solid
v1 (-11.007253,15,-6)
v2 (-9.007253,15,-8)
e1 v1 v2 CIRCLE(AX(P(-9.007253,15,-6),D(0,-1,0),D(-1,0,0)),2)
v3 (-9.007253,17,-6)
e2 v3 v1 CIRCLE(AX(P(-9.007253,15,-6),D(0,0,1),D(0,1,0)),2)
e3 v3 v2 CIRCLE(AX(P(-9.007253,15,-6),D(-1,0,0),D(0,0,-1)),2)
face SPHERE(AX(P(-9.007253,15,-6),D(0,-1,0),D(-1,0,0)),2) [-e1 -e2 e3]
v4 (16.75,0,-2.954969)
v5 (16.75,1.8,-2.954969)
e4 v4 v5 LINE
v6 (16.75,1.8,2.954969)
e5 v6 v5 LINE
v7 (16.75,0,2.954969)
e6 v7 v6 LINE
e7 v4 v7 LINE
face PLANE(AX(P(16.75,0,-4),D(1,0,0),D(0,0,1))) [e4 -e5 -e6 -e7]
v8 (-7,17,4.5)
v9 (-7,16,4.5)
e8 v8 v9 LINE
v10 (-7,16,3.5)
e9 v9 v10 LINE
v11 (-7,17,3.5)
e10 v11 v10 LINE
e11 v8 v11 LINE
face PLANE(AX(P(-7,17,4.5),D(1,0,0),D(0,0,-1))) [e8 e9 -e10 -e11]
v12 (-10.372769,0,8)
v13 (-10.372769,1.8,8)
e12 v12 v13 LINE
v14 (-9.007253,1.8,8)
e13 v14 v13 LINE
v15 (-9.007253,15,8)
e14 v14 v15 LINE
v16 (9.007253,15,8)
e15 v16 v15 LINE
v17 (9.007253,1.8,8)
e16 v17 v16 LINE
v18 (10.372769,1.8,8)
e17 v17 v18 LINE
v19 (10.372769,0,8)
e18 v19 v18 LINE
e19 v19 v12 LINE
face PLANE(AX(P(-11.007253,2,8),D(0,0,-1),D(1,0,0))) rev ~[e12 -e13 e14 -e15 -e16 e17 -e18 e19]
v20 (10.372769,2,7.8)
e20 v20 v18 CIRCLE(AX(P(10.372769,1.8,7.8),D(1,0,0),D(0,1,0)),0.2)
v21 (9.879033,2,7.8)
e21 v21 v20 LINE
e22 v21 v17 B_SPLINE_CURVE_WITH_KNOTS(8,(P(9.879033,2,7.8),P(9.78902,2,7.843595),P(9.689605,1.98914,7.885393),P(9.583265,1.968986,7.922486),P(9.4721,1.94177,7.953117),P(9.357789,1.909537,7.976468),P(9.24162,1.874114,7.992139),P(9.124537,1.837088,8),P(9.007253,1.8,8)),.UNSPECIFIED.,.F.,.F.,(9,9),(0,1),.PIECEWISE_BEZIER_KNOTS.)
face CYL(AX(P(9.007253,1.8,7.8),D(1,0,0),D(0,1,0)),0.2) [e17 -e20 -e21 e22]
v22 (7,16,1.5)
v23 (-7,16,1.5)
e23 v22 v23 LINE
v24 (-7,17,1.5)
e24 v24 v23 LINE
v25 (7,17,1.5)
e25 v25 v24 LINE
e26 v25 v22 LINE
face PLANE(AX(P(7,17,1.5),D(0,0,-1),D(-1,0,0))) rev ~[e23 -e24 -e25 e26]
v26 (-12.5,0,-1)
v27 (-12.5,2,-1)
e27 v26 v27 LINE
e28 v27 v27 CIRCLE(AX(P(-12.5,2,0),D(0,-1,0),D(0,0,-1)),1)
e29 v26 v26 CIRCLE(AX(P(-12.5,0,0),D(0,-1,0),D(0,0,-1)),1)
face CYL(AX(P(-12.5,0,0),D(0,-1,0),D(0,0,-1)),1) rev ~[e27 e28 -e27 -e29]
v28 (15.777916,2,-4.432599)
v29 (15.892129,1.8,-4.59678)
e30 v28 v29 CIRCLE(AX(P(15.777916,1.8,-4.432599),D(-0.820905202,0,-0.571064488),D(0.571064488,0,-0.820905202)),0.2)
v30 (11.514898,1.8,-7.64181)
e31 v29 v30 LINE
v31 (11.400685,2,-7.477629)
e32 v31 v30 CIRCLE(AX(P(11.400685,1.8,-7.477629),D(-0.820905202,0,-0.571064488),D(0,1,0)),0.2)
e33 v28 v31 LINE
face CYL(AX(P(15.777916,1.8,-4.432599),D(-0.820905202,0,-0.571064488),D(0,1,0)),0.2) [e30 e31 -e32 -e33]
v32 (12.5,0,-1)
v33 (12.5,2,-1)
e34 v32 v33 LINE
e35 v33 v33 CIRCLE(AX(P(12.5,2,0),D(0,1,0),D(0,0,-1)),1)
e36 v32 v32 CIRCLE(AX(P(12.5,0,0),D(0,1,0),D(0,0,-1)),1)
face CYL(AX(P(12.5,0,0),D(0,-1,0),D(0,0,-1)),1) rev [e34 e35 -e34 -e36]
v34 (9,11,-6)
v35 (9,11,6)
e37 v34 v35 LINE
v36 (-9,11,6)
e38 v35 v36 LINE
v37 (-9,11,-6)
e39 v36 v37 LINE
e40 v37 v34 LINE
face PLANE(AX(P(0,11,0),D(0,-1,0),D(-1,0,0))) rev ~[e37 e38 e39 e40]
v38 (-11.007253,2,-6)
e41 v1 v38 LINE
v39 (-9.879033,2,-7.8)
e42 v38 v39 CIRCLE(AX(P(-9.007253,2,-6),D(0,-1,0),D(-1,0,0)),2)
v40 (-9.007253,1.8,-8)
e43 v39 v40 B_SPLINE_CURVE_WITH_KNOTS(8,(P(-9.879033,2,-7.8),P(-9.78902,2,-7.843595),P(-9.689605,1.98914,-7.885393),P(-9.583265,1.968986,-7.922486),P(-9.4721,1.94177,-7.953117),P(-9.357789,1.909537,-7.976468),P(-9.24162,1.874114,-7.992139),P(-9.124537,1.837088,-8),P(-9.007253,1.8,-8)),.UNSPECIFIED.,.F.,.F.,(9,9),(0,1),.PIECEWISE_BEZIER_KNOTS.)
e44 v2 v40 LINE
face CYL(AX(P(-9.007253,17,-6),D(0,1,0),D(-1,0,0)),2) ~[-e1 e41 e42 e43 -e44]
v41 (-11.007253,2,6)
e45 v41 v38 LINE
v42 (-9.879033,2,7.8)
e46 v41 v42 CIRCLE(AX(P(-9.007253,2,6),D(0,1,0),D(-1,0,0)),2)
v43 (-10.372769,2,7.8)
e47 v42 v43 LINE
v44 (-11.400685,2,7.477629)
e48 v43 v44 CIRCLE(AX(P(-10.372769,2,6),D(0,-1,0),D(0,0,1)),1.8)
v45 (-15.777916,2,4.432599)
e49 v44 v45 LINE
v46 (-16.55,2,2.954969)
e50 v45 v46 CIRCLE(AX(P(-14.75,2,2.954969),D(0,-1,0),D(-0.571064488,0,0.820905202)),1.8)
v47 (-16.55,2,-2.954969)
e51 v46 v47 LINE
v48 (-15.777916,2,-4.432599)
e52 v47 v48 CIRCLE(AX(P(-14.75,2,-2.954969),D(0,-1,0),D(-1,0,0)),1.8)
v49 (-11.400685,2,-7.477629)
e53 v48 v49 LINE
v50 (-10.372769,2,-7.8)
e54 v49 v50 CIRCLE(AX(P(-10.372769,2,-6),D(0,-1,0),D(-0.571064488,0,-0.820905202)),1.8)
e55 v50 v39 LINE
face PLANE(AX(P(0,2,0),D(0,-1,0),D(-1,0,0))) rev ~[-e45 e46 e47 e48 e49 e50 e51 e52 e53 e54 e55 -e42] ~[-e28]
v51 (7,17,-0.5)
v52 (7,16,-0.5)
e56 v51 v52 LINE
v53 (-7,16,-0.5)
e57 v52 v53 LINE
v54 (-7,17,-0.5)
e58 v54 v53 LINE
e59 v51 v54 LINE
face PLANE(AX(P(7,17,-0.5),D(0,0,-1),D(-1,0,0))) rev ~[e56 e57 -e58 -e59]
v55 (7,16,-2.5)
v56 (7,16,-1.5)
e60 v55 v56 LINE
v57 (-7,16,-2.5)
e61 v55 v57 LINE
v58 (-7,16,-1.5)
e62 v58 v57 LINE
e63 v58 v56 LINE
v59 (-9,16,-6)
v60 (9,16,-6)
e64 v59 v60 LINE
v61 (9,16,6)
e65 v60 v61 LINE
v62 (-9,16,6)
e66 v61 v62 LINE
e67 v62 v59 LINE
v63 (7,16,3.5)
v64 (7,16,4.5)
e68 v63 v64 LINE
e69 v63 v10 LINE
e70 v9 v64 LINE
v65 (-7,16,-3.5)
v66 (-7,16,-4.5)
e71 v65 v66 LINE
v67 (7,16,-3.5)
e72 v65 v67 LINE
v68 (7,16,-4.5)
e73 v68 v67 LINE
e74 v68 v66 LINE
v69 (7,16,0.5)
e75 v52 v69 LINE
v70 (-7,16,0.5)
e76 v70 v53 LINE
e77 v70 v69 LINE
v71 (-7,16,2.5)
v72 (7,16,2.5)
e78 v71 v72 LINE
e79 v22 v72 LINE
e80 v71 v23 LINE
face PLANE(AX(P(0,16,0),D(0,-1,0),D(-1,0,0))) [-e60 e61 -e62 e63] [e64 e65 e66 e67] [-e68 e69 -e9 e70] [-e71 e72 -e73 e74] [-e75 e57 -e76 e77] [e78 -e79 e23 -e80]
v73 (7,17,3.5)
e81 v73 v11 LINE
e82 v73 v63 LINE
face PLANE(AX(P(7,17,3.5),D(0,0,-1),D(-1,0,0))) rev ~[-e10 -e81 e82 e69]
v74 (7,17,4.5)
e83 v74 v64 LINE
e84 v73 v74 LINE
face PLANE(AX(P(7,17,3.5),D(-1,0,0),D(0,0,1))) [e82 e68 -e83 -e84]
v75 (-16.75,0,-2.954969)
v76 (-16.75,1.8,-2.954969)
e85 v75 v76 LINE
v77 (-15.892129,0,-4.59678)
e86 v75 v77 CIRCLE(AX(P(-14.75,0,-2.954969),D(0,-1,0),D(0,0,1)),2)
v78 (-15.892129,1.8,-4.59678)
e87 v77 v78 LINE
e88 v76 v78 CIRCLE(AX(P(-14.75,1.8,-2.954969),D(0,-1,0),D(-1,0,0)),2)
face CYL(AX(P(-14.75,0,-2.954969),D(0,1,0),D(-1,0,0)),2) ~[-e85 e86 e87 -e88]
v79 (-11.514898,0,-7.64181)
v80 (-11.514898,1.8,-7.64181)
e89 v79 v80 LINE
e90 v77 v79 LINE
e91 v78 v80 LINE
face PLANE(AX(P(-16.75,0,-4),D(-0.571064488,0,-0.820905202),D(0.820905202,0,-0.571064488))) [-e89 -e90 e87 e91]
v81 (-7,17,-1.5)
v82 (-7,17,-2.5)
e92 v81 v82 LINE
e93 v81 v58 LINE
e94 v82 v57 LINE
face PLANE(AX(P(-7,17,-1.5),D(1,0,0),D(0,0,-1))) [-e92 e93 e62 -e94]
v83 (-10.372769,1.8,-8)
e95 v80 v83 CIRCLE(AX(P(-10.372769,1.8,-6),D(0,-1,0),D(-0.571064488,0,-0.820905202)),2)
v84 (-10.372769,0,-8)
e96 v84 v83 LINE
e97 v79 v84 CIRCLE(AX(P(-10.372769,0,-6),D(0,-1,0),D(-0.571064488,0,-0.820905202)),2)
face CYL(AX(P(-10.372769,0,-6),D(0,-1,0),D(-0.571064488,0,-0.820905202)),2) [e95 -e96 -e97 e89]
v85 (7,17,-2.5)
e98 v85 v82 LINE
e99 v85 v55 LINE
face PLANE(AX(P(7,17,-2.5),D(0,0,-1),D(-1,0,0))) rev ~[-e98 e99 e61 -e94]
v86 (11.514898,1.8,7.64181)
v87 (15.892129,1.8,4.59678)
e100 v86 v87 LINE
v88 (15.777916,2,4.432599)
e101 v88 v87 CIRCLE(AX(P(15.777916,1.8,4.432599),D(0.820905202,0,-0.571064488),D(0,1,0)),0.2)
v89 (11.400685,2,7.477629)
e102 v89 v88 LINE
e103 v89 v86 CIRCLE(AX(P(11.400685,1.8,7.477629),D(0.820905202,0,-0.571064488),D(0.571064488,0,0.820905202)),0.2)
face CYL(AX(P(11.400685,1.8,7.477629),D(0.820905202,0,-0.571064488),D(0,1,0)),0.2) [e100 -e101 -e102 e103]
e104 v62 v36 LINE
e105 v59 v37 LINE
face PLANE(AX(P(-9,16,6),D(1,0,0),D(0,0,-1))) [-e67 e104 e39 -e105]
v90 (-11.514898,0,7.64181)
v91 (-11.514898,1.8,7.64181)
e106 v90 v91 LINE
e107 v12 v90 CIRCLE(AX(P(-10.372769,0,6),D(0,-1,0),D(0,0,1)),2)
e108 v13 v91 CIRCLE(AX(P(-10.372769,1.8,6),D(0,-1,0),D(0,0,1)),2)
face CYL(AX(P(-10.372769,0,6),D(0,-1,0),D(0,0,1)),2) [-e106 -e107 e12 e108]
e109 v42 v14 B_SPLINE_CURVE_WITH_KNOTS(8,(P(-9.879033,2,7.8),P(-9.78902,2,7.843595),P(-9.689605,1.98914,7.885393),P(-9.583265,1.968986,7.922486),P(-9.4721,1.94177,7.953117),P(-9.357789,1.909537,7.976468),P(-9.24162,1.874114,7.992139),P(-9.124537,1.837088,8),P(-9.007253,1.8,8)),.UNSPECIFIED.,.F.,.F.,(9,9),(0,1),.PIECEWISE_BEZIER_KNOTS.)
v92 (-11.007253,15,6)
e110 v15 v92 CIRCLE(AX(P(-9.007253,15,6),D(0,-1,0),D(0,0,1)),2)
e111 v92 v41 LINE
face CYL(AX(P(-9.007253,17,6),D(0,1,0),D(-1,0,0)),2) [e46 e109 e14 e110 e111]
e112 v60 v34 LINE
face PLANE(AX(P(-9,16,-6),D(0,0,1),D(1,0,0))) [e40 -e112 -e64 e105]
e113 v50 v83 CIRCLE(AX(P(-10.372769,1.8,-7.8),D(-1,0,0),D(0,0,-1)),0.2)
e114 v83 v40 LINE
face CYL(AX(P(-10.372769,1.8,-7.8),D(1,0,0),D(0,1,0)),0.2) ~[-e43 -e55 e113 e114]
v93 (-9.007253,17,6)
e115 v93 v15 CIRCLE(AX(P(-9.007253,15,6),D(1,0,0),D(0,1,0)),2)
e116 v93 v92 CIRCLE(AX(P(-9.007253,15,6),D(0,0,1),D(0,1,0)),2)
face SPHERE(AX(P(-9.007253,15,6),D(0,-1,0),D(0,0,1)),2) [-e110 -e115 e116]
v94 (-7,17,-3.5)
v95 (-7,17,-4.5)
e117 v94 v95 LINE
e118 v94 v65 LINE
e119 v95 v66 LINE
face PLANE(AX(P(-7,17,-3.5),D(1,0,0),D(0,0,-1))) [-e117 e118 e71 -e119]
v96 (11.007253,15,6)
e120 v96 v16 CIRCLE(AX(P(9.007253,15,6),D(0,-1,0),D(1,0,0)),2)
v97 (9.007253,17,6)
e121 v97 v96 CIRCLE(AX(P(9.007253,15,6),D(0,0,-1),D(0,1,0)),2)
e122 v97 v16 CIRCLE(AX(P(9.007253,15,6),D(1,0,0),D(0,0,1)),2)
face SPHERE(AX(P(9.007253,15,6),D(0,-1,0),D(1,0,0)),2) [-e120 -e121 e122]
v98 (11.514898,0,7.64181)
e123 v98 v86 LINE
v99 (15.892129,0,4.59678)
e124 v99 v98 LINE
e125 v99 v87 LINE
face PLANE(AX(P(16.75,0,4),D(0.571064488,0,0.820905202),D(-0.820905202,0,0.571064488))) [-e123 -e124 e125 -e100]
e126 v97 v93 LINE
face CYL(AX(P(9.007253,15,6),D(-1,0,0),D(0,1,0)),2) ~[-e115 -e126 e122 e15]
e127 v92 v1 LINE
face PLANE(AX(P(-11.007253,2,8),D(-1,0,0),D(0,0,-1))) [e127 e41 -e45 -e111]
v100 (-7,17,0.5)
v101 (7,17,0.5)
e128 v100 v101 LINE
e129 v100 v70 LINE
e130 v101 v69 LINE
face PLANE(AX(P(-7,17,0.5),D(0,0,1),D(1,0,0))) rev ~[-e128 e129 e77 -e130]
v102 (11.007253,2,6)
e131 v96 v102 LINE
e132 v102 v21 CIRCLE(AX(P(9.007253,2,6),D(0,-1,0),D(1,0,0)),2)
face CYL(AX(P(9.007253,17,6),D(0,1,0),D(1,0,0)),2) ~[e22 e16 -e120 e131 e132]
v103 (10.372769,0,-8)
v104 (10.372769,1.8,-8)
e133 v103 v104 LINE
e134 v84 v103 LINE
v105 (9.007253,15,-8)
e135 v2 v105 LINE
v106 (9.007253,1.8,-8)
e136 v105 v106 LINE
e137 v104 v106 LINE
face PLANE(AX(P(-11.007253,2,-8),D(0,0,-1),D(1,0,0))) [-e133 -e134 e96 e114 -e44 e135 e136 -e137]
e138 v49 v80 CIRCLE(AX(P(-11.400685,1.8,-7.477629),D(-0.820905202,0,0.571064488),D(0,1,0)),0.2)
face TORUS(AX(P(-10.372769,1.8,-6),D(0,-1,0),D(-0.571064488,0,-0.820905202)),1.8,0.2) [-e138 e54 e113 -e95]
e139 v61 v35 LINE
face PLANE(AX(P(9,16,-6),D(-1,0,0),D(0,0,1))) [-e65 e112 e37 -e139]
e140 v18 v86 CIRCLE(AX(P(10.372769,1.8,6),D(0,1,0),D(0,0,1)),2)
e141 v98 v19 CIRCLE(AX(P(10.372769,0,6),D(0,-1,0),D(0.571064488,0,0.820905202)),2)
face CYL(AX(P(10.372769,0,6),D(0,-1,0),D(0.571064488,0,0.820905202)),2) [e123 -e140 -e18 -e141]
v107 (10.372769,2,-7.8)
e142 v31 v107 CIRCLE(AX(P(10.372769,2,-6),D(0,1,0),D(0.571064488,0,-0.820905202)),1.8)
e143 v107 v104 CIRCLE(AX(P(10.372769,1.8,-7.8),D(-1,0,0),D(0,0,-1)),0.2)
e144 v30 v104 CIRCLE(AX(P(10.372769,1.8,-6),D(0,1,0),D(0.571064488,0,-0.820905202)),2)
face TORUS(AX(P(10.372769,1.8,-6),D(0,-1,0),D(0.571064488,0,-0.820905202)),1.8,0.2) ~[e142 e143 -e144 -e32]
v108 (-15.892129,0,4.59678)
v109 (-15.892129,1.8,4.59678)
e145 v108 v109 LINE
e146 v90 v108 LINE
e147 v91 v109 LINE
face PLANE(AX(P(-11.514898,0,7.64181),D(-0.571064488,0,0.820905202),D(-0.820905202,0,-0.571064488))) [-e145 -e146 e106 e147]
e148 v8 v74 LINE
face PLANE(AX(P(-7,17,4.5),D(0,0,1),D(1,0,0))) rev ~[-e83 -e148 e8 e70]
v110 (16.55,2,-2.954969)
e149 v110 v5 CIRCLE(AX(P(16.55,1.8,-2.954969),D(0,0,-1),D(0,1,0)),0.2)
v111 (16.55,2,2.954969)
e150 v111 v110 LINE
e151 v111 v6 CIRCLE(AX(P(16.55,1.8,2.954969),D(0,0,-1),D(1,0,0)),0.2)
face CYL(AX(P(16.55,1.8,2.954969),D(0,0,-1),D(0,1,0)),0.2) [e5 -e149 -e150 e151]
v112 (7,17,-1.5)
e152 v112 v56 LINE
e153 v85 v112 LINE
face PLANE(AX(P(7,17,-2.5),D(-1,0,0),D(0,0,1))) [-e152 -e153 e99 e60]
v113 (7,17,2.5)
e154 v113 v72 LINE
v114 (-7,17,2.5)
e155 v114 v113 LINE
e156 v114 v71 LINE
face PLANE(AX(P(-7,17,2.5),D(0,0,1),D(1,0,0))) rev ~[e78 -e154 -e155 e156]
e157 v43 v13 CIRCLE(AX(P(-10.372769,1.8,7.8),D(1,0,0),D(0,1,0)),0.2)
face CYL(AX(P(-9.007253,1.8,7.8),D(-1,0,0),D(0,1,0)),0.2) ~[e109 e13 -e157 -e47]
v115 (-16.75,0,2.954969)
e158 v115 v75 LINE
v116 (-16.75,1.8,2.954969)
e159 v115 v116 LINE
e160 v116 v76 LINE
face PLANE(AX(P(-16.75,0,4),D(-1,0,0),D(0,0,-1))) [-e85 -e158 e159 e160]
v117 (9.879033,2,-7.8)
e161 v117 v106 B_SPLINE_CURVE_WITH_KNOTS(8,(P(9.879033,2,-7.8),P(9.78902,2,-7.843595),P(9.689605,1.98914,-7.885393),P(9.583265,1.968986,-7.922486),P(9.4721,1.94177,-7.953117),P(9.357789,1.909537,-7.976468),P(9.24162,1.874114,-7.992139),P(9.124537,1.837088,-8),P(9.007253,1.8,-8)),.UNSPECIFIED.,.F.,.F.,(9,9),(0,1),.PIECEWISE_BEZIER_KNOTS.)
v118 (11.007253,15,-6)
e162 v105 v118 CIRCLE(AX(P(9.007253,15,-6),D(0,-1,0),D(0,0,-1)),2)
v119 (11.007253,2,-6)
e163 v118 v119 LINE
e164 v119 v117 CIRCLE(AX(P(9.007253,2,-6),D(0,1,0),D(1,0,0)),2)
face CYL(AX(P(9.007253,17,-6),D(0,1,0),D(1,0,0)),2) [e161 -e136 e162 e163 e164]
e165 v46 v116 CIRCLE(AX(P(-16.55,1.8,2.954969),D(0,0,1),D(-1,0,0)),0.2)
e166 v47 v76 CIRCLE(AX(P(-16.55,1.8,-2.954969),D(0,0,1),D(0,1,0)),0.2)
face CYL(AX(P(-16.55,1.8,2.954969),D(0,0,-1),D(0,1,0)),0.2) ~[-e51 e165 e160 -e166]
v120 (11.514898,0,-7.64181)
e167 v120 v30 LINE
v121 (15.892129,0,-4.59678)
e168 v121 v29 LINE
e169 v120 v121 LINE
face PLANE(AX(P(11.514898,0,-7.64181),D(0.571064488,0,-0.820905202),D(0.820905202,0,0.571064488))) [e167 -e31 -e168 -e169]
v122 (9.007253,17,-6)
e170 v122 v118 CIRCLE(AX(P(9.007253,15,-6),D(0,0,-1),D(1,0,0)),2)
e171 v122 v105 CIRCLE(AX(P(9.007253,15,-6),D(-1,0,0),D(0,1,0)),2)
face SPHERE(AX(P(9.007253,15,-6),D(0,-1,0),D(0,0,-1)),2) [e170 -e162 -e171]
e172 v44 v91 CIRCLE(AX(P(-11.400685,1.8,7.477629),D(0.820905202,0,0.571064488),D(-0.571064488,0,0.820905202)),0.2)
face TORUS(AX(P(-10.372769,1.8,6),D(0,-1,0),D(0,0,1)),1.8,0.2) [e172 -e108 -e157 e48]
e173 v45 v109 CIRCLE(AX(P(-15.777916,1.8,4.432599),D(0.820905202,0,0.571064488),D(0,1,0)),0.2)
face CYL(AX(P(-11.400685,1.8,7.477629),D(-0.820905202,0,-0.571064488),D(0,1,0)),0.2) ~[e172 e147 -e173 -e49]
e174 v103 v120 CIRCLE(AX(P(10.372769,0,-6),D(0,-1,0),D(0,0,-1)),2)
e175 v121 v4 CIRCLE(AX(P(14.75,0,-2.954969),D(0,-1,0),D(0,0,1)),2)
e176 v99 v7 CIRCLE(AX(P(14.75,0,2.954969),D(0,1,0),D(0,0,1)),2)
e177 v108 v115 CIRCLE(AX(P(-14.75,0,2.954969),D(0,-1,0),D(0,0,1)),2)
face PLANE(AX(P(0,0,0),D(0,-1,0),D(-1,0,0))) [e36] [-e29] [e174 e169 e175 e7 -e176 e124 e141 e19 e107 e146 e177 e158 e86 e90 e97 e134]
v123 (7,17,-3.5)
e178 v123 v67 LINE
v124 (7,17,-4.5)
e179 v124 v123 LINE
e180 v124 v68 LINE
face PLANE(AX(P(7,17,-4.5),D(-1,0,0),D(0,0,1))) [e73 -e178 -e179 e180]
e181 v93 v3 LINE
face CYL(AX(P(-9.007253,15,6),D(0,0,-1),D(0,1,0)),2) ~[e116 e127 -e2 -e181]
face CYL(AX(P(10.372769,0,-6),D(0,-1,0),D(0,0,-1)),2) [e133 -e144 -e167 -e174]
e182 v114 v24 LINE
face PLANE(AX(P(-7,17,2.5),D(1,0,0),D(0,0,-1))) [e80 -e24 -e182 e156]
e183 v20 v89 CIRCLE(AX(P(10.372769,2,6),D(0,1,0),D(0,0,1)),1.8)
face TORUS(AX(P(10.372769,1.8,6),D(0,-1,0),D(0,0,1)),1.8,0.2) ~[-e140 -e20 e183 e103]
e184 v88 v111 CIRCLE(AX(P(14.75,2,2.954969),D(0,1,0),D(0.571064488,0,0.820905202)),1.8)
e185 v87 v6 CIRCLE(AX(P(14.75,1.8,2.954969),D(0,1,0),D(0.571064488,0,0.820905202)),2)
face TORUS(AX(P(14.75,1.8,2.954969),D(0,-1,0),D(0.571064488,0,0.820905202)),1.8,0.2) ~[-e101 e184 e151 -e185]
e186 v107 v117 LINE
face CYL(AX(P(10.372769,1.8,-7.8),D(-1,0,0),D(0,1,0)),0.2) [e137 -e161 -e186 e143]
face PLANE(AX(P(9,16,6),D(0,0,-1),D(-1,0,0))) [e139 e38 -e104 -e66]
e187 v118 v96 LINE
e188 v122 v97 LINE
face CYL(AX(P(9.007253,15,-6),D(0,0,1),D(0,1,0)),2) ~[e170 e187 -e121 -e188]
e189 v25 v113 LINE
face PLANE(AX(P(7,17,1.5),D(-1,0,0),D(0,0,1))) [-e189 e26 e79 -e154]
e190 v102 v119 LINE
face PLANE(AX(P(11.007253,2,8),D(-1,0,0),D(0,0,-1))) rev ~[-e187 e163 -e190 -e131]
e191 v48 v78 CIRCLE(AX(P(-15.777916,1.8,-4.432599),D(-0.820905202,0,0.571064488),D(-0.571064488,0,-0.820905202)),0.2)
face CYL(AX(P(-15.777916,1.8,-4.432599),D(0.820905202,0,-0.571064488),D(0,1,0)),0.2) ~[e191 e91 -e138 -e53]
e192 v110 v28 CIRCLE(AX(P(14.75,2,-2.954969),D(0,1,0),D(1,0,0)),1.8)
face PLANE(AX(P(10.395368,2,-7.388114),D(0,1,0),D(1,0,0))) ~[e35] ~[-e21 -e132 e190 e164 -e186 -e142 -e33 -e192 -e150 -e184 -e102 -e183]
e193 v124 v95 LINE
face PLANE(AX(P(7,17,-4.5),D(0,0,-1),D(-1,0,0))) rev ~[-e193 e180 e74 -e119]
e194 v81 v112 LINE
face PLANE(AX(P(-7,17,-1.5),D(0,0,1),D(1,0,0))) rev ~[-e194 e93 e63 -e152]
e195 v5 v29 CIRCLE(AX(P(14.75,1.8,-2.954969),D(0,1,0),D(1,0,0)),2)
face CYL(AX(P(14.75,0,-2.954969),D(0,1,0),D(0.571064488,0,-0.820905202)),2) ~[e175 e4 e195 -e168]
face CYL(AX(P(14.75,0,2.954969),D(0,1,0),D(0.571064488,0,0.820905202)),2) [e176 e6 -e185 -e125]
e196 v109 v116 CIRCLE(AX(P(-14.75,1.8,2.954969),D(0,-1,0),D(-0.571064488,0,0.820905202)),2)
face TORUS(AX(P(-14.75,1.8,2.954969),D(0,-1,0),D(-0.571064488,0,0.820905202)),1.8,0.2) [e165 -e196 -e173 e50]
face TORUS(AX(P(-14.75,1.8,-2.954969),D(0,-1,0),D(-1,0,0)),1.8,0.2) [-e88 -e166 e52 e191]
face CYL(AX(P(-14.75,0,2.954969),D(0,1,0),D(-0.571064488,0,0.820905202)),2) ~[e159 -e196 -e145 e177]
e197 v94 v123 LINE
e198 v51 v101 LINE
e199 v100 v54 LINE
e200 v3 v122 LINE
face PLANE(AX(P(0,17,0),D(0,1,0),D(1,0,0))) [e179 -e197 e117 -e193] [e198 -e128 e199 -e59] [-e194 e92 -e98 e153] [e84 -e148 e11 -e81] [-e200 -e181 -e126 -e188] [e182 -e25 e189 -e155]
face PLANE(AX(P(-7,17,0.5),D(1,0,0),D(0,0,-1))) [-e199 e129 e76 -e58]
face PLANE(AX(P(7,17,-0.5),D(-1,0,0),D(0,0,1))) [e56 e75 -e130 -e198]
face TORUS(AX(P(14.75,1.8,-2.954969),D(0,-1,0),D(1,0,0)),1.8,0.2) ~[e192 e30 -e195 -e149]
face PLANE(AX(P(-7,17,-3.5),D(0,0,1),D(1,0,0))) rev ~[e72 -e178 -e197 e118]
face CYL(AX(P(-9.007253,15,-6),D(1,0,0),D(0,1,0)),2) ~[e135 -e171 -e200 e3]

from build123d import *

# Parameters (mm, degrees)
EXTRUDE_1_DEPTH            = 2
SKETCH_2_W                 = 22.014506199136
SKETCH_2_H                 = 16
EXTRUDE_2_DEPTH            = 15
CUT_EXTRUDE_1_REACH        = 27.171
SKETCH_3_R                 = 1.0000000000000016
CUT_EXTRUDE_2_DEPTH        = 1
PATTERN_LINEAR_1_COUNT     = 3
PATTERN_LINEAR_1_PITCH     = 2
PATTERN_LINEAR_1_COL_COUNT = 3
PATTERN_LINEAR_1_COL_PITCH = 2
CUT_EXTRUDE_3_DEPTH        = 5
FILLET_4_R                 = 2
CUT_EXTRUDE_5_DEPTH        = 15
MIRROR_3_COPY_1_DEPTH      = 15
FILLET_6_R                 = 0.2
FILLET_7_R                 = 2


with BuildPart() as part:
    # 草图1 → 凸台-拉伸1 (new body)
    with BuildSketch(Plane(origin=(0, 0, 0), x_dir=(1, 0, 0), z_dir=(0, 1, 0))):
        with BuildLine():
            Line((-16.75, -4.000000000000002), (-16.75, 3.9999999999999982))
            Line((-16.75, 3.9999999999999982), (-11.51489754486675, 7.641810403570972))
            ThreePointArc((-11.51489754486675, 7.641810403570972), (-10.971257997306036, 7.908352798507383), (-10.372768568469548, 7.9999999999999964))
            Line((-10.372768568469548, 7.9999999999999964), (10.372768568469544, 8))
            ThreePointArc((10.372768568469544, 8), (10.971257997306031, 7.908352798507387), (11.514897544866734, 7.641810403570965))
            Line((11.514897544866734, 7.641810403570965), (16.75, 4.000000000000005))
            Line((16.75, 4.000000000000005), (16.75, -3.9999999999999947))
            Line((16.75, -3.9999999999999947), (11.514897544866738, -7.641810403570964))
            ThreePointArc((11.514897544866738, -7.641810403570964), (10.971257997306049, -7.908352798507378), (10.37276856846958, -7.9999999999999964))
            Line((10.37276856846958, -7.9999999999999964), (-10.372768568469548, -7.999999999999998))
            ThreePointArc((-10.372768568469548, -7.999999999999998), (-10.971257997306035, -7.908352798507385), (-11.51489754486674, -7.641810403570962))
            Line((-11.51489754486674, -7.641810403570962), (-16.75, -4.000000000000002))
        make_face()
    extrude(amount=EXTRUDE_1_DEPTH)

    # 草图2 → 凸台-拉伸2 (add)
    with BuildSketch(Plane(origin=(0, 2, 0), x_dir=(1, 0, 0), z_dir=(0, 1, 0))):
        Rectangle(SKETCH_2_W, SKETCH_2_H)
    extrude(amount=EXTRUDE_2_DEPTH)

    # 草图3 → 切除-拉伸1 (cut, up to next)
    with BuildSketch(Plane.XZ, mode=Mode.PRIVATE) as cut_extrude_1_sk1:
        with Locations(Location((-12.5, -1.53e-15, 0), (0, 0, 270))):
            Circle(SKETCH_3_R)
    cut_extrude_1_tool1 = extrude(cut_extrude_1_sk1.sketch, amount=-CUT_EXTRUDE_1_REACH, mode=Mode.PRIVATE) & part.part
    cut_extrude_1 = cut_extrude_1_tool1.solids().sort_by_distance((-12.5, 0, 0))[0]
    add(cut_extrude_1, mode=Mode.SUBTRACT)

    # 镜向1: 切除-拉伸1 across plane
    add(cut_extrude_1.mirror(Plane(origin=(0, 0, 0), x_dir=(0, 0, 1), z_dir=(1, 0, 0))), mode=Mode.SUBTRACT)

    # 草图4 → 切除-拉伸2 (cut)
    with BuildSketch(Plane(origin=(0, 17, 0), x_dir=(1, 0, 0), z_dir=(0, 1, 0))):
        Polygon((0, 0.5), (7, 0.5), (7, -0.5), (0, -0.5), (-7, -0.5), (-7, 0.5), align=None)
    cut_extrude_2 = extrude(amount=-CUT_EXTRUDE_2_DEPTH, mode=Mode.SUBTRACT)

    # 阵列(线性)1: 切除-拉伸2 ×3
    with Locations(*[(0, 0, i * PATTERN_LINEAR_1_PITCH) for i in range(1, PATTERN_LINEAR_1_COUNT)]):
        add(cut_extrude_2, mode=Mode.SUBTRACT)

    # 阵列(线性)1 col: 切除-拉伸2 ×3
    with Locations(*[(0, 0, -i * PATTERN_LINEAR_1_COL_PITCH) for i in range(1, PATTERN_LINEAR_1_COL_COUNT)]):
        add(cut_extrude_2, mode=Mode.SUBTRACT)

    # 草图5 → 切除-拉伸3 (cut)
    with BuildSketch(Plane(origin=(0, 16, 0), x_dir=(1, 0, 0), z_dir=(0, 1, 0))):
        Polygon((9, 6.0000000000000036), (9.000000000000002, -5.999999999999997), (-8.999999999999998, -6.000000000000001), (-8.999999999999998, 5.999999999999999), align=None)
    extrude(amount=-CUT_EXTRUDE_3_DEPTH, mode=Mode.SUBTRACT)

    # 圆角4
    fillet_4_edges = [part.edges().sort_by_distance(p)[0] for p in [
        (-16.75, 1, 4.000000000000002),
        (-16.75, 1, -3.9999999999999982),
        (16.75, 1, -4.000000000000005),
        (16.75, 1, 3.9999999999999947),
    ]]
    fillet(fillet_4_edges, radius=FILLET_4_R)

    # 草图8 → 切除-拉伸5 (cut)
    with BuildSketch(Plane(origin=(0, 17, 0), x_dir=(1, 0, 0), z_dir=(0, 1, 0))):
        with BuildLine():
            Line((-9.007253099567999, 8), (-11.007253099568, 8))
            Line((-11.007253099568, 8), (-11.007253099568, 6))
            ThreePointArc((-11.007253099568, 6), (-10.421466661941093, 7.414213562373095), (-9.007253099567999, 8))
        make_face()
    cut_extrude_5 = extrude(amount=-CUT_EXTRUDE_5_DEPTH, mode=Mode.SUBTRACT)

    # 镜向2: 切除-拉伸5 across plane
    add(cut_extrude_5.mirror(Plane(origin=(0, 0, 0), x_dir=(0, 0, 1), z_dir=(1, 0, 0))), mode=Mode.SUBTRACT)

    # 镜向3: 切除-拉伸5 across plane
    add(cut_extrude_5.mirror(Plane.XY), mode=Mode.SUBTRACT)

    # 镜向3 copy 1 sketch → 镜向3 copy 1 (cut)
    with BuildSketch(Plane(origin=(0, 17, 0), x_dir=(-1, 0, 0), z_dir=(0, 1, 0))):
        with BuildLine():
            Line((-9.007253099567999, 8), (-11.007253099568, 8))
            Line((-11.007253099568, 8), (-11.007253099568, 6))
            ThreePointArc((-11.007253099568, 6), (-10.421466661941093, 7.414213562373095), (-9.007253099567999, 8))
        make_face()
    extrude(amount=-MIRROR_3_COPY_1_DEPTH, mode=Mode.SUBTRACT)

    # 圆角6
    fillet_6_edges = [part.edges().sort_by_distance(p)[0] for p in [
        (10.971257997306049, 2, 7.908352798507378),
        (13.703513260631969, 2, 6.119295123038627),
        (-16.75, 2, -8.9e-16),
        (-13.70351326063197, 2, 6.119295123038629),
        (-16.522605138319644, 2, 3.881182710057475),
        (-16.522605138319644, 2, -3.881182710057476),
        (13.703513260631965, 2, -6.119295123038633),
        (16.75, 2, -3.55e-15),
        (16.522605138319644, 2, 3.8811827100574723),
        (16.52260513831964, 2, -3.8811827100574794),
        (-9.690010834018773, 2, -8),
        (9.690010834018771, 2, -8),
        (-9.690010834018773, 2, 8),
        (9.69001083401879, 2, 8),
        (10.97125799730603, 2, -7.908352798507387),
        (-10.971257997306036, 2, -7.908352798507383),
        (-13.703513260631976, 2, -6.119295123038633),
        (-10.971257997306035, 2, 7.908352798507385),
    ]]
    fillet(fillet_6_edges, radius=FILLET_6_R)

    # 圆角7
    fillet_7_edges = [part.edges().sort_by_distance(p)[0] for p in [
        (-11.007253099568, 17, 0),
        (-10.421466661941095, 17, -7.414213562373094),
        (1.78e-15, 17, -8),
        (10.421466661941095, 17, -7.414213562373094),
        (-1.78e-15, 17, 8),
        (-10.421466661941095, 17, 7.414213562373094),
        (11.007253099568, 17, 0),
        (10.421466661941095, 17, 7.414213562373094),
    ]]
    fillet(fillet_7_edges, radius=FILLET_7_R)


solid = part.part
